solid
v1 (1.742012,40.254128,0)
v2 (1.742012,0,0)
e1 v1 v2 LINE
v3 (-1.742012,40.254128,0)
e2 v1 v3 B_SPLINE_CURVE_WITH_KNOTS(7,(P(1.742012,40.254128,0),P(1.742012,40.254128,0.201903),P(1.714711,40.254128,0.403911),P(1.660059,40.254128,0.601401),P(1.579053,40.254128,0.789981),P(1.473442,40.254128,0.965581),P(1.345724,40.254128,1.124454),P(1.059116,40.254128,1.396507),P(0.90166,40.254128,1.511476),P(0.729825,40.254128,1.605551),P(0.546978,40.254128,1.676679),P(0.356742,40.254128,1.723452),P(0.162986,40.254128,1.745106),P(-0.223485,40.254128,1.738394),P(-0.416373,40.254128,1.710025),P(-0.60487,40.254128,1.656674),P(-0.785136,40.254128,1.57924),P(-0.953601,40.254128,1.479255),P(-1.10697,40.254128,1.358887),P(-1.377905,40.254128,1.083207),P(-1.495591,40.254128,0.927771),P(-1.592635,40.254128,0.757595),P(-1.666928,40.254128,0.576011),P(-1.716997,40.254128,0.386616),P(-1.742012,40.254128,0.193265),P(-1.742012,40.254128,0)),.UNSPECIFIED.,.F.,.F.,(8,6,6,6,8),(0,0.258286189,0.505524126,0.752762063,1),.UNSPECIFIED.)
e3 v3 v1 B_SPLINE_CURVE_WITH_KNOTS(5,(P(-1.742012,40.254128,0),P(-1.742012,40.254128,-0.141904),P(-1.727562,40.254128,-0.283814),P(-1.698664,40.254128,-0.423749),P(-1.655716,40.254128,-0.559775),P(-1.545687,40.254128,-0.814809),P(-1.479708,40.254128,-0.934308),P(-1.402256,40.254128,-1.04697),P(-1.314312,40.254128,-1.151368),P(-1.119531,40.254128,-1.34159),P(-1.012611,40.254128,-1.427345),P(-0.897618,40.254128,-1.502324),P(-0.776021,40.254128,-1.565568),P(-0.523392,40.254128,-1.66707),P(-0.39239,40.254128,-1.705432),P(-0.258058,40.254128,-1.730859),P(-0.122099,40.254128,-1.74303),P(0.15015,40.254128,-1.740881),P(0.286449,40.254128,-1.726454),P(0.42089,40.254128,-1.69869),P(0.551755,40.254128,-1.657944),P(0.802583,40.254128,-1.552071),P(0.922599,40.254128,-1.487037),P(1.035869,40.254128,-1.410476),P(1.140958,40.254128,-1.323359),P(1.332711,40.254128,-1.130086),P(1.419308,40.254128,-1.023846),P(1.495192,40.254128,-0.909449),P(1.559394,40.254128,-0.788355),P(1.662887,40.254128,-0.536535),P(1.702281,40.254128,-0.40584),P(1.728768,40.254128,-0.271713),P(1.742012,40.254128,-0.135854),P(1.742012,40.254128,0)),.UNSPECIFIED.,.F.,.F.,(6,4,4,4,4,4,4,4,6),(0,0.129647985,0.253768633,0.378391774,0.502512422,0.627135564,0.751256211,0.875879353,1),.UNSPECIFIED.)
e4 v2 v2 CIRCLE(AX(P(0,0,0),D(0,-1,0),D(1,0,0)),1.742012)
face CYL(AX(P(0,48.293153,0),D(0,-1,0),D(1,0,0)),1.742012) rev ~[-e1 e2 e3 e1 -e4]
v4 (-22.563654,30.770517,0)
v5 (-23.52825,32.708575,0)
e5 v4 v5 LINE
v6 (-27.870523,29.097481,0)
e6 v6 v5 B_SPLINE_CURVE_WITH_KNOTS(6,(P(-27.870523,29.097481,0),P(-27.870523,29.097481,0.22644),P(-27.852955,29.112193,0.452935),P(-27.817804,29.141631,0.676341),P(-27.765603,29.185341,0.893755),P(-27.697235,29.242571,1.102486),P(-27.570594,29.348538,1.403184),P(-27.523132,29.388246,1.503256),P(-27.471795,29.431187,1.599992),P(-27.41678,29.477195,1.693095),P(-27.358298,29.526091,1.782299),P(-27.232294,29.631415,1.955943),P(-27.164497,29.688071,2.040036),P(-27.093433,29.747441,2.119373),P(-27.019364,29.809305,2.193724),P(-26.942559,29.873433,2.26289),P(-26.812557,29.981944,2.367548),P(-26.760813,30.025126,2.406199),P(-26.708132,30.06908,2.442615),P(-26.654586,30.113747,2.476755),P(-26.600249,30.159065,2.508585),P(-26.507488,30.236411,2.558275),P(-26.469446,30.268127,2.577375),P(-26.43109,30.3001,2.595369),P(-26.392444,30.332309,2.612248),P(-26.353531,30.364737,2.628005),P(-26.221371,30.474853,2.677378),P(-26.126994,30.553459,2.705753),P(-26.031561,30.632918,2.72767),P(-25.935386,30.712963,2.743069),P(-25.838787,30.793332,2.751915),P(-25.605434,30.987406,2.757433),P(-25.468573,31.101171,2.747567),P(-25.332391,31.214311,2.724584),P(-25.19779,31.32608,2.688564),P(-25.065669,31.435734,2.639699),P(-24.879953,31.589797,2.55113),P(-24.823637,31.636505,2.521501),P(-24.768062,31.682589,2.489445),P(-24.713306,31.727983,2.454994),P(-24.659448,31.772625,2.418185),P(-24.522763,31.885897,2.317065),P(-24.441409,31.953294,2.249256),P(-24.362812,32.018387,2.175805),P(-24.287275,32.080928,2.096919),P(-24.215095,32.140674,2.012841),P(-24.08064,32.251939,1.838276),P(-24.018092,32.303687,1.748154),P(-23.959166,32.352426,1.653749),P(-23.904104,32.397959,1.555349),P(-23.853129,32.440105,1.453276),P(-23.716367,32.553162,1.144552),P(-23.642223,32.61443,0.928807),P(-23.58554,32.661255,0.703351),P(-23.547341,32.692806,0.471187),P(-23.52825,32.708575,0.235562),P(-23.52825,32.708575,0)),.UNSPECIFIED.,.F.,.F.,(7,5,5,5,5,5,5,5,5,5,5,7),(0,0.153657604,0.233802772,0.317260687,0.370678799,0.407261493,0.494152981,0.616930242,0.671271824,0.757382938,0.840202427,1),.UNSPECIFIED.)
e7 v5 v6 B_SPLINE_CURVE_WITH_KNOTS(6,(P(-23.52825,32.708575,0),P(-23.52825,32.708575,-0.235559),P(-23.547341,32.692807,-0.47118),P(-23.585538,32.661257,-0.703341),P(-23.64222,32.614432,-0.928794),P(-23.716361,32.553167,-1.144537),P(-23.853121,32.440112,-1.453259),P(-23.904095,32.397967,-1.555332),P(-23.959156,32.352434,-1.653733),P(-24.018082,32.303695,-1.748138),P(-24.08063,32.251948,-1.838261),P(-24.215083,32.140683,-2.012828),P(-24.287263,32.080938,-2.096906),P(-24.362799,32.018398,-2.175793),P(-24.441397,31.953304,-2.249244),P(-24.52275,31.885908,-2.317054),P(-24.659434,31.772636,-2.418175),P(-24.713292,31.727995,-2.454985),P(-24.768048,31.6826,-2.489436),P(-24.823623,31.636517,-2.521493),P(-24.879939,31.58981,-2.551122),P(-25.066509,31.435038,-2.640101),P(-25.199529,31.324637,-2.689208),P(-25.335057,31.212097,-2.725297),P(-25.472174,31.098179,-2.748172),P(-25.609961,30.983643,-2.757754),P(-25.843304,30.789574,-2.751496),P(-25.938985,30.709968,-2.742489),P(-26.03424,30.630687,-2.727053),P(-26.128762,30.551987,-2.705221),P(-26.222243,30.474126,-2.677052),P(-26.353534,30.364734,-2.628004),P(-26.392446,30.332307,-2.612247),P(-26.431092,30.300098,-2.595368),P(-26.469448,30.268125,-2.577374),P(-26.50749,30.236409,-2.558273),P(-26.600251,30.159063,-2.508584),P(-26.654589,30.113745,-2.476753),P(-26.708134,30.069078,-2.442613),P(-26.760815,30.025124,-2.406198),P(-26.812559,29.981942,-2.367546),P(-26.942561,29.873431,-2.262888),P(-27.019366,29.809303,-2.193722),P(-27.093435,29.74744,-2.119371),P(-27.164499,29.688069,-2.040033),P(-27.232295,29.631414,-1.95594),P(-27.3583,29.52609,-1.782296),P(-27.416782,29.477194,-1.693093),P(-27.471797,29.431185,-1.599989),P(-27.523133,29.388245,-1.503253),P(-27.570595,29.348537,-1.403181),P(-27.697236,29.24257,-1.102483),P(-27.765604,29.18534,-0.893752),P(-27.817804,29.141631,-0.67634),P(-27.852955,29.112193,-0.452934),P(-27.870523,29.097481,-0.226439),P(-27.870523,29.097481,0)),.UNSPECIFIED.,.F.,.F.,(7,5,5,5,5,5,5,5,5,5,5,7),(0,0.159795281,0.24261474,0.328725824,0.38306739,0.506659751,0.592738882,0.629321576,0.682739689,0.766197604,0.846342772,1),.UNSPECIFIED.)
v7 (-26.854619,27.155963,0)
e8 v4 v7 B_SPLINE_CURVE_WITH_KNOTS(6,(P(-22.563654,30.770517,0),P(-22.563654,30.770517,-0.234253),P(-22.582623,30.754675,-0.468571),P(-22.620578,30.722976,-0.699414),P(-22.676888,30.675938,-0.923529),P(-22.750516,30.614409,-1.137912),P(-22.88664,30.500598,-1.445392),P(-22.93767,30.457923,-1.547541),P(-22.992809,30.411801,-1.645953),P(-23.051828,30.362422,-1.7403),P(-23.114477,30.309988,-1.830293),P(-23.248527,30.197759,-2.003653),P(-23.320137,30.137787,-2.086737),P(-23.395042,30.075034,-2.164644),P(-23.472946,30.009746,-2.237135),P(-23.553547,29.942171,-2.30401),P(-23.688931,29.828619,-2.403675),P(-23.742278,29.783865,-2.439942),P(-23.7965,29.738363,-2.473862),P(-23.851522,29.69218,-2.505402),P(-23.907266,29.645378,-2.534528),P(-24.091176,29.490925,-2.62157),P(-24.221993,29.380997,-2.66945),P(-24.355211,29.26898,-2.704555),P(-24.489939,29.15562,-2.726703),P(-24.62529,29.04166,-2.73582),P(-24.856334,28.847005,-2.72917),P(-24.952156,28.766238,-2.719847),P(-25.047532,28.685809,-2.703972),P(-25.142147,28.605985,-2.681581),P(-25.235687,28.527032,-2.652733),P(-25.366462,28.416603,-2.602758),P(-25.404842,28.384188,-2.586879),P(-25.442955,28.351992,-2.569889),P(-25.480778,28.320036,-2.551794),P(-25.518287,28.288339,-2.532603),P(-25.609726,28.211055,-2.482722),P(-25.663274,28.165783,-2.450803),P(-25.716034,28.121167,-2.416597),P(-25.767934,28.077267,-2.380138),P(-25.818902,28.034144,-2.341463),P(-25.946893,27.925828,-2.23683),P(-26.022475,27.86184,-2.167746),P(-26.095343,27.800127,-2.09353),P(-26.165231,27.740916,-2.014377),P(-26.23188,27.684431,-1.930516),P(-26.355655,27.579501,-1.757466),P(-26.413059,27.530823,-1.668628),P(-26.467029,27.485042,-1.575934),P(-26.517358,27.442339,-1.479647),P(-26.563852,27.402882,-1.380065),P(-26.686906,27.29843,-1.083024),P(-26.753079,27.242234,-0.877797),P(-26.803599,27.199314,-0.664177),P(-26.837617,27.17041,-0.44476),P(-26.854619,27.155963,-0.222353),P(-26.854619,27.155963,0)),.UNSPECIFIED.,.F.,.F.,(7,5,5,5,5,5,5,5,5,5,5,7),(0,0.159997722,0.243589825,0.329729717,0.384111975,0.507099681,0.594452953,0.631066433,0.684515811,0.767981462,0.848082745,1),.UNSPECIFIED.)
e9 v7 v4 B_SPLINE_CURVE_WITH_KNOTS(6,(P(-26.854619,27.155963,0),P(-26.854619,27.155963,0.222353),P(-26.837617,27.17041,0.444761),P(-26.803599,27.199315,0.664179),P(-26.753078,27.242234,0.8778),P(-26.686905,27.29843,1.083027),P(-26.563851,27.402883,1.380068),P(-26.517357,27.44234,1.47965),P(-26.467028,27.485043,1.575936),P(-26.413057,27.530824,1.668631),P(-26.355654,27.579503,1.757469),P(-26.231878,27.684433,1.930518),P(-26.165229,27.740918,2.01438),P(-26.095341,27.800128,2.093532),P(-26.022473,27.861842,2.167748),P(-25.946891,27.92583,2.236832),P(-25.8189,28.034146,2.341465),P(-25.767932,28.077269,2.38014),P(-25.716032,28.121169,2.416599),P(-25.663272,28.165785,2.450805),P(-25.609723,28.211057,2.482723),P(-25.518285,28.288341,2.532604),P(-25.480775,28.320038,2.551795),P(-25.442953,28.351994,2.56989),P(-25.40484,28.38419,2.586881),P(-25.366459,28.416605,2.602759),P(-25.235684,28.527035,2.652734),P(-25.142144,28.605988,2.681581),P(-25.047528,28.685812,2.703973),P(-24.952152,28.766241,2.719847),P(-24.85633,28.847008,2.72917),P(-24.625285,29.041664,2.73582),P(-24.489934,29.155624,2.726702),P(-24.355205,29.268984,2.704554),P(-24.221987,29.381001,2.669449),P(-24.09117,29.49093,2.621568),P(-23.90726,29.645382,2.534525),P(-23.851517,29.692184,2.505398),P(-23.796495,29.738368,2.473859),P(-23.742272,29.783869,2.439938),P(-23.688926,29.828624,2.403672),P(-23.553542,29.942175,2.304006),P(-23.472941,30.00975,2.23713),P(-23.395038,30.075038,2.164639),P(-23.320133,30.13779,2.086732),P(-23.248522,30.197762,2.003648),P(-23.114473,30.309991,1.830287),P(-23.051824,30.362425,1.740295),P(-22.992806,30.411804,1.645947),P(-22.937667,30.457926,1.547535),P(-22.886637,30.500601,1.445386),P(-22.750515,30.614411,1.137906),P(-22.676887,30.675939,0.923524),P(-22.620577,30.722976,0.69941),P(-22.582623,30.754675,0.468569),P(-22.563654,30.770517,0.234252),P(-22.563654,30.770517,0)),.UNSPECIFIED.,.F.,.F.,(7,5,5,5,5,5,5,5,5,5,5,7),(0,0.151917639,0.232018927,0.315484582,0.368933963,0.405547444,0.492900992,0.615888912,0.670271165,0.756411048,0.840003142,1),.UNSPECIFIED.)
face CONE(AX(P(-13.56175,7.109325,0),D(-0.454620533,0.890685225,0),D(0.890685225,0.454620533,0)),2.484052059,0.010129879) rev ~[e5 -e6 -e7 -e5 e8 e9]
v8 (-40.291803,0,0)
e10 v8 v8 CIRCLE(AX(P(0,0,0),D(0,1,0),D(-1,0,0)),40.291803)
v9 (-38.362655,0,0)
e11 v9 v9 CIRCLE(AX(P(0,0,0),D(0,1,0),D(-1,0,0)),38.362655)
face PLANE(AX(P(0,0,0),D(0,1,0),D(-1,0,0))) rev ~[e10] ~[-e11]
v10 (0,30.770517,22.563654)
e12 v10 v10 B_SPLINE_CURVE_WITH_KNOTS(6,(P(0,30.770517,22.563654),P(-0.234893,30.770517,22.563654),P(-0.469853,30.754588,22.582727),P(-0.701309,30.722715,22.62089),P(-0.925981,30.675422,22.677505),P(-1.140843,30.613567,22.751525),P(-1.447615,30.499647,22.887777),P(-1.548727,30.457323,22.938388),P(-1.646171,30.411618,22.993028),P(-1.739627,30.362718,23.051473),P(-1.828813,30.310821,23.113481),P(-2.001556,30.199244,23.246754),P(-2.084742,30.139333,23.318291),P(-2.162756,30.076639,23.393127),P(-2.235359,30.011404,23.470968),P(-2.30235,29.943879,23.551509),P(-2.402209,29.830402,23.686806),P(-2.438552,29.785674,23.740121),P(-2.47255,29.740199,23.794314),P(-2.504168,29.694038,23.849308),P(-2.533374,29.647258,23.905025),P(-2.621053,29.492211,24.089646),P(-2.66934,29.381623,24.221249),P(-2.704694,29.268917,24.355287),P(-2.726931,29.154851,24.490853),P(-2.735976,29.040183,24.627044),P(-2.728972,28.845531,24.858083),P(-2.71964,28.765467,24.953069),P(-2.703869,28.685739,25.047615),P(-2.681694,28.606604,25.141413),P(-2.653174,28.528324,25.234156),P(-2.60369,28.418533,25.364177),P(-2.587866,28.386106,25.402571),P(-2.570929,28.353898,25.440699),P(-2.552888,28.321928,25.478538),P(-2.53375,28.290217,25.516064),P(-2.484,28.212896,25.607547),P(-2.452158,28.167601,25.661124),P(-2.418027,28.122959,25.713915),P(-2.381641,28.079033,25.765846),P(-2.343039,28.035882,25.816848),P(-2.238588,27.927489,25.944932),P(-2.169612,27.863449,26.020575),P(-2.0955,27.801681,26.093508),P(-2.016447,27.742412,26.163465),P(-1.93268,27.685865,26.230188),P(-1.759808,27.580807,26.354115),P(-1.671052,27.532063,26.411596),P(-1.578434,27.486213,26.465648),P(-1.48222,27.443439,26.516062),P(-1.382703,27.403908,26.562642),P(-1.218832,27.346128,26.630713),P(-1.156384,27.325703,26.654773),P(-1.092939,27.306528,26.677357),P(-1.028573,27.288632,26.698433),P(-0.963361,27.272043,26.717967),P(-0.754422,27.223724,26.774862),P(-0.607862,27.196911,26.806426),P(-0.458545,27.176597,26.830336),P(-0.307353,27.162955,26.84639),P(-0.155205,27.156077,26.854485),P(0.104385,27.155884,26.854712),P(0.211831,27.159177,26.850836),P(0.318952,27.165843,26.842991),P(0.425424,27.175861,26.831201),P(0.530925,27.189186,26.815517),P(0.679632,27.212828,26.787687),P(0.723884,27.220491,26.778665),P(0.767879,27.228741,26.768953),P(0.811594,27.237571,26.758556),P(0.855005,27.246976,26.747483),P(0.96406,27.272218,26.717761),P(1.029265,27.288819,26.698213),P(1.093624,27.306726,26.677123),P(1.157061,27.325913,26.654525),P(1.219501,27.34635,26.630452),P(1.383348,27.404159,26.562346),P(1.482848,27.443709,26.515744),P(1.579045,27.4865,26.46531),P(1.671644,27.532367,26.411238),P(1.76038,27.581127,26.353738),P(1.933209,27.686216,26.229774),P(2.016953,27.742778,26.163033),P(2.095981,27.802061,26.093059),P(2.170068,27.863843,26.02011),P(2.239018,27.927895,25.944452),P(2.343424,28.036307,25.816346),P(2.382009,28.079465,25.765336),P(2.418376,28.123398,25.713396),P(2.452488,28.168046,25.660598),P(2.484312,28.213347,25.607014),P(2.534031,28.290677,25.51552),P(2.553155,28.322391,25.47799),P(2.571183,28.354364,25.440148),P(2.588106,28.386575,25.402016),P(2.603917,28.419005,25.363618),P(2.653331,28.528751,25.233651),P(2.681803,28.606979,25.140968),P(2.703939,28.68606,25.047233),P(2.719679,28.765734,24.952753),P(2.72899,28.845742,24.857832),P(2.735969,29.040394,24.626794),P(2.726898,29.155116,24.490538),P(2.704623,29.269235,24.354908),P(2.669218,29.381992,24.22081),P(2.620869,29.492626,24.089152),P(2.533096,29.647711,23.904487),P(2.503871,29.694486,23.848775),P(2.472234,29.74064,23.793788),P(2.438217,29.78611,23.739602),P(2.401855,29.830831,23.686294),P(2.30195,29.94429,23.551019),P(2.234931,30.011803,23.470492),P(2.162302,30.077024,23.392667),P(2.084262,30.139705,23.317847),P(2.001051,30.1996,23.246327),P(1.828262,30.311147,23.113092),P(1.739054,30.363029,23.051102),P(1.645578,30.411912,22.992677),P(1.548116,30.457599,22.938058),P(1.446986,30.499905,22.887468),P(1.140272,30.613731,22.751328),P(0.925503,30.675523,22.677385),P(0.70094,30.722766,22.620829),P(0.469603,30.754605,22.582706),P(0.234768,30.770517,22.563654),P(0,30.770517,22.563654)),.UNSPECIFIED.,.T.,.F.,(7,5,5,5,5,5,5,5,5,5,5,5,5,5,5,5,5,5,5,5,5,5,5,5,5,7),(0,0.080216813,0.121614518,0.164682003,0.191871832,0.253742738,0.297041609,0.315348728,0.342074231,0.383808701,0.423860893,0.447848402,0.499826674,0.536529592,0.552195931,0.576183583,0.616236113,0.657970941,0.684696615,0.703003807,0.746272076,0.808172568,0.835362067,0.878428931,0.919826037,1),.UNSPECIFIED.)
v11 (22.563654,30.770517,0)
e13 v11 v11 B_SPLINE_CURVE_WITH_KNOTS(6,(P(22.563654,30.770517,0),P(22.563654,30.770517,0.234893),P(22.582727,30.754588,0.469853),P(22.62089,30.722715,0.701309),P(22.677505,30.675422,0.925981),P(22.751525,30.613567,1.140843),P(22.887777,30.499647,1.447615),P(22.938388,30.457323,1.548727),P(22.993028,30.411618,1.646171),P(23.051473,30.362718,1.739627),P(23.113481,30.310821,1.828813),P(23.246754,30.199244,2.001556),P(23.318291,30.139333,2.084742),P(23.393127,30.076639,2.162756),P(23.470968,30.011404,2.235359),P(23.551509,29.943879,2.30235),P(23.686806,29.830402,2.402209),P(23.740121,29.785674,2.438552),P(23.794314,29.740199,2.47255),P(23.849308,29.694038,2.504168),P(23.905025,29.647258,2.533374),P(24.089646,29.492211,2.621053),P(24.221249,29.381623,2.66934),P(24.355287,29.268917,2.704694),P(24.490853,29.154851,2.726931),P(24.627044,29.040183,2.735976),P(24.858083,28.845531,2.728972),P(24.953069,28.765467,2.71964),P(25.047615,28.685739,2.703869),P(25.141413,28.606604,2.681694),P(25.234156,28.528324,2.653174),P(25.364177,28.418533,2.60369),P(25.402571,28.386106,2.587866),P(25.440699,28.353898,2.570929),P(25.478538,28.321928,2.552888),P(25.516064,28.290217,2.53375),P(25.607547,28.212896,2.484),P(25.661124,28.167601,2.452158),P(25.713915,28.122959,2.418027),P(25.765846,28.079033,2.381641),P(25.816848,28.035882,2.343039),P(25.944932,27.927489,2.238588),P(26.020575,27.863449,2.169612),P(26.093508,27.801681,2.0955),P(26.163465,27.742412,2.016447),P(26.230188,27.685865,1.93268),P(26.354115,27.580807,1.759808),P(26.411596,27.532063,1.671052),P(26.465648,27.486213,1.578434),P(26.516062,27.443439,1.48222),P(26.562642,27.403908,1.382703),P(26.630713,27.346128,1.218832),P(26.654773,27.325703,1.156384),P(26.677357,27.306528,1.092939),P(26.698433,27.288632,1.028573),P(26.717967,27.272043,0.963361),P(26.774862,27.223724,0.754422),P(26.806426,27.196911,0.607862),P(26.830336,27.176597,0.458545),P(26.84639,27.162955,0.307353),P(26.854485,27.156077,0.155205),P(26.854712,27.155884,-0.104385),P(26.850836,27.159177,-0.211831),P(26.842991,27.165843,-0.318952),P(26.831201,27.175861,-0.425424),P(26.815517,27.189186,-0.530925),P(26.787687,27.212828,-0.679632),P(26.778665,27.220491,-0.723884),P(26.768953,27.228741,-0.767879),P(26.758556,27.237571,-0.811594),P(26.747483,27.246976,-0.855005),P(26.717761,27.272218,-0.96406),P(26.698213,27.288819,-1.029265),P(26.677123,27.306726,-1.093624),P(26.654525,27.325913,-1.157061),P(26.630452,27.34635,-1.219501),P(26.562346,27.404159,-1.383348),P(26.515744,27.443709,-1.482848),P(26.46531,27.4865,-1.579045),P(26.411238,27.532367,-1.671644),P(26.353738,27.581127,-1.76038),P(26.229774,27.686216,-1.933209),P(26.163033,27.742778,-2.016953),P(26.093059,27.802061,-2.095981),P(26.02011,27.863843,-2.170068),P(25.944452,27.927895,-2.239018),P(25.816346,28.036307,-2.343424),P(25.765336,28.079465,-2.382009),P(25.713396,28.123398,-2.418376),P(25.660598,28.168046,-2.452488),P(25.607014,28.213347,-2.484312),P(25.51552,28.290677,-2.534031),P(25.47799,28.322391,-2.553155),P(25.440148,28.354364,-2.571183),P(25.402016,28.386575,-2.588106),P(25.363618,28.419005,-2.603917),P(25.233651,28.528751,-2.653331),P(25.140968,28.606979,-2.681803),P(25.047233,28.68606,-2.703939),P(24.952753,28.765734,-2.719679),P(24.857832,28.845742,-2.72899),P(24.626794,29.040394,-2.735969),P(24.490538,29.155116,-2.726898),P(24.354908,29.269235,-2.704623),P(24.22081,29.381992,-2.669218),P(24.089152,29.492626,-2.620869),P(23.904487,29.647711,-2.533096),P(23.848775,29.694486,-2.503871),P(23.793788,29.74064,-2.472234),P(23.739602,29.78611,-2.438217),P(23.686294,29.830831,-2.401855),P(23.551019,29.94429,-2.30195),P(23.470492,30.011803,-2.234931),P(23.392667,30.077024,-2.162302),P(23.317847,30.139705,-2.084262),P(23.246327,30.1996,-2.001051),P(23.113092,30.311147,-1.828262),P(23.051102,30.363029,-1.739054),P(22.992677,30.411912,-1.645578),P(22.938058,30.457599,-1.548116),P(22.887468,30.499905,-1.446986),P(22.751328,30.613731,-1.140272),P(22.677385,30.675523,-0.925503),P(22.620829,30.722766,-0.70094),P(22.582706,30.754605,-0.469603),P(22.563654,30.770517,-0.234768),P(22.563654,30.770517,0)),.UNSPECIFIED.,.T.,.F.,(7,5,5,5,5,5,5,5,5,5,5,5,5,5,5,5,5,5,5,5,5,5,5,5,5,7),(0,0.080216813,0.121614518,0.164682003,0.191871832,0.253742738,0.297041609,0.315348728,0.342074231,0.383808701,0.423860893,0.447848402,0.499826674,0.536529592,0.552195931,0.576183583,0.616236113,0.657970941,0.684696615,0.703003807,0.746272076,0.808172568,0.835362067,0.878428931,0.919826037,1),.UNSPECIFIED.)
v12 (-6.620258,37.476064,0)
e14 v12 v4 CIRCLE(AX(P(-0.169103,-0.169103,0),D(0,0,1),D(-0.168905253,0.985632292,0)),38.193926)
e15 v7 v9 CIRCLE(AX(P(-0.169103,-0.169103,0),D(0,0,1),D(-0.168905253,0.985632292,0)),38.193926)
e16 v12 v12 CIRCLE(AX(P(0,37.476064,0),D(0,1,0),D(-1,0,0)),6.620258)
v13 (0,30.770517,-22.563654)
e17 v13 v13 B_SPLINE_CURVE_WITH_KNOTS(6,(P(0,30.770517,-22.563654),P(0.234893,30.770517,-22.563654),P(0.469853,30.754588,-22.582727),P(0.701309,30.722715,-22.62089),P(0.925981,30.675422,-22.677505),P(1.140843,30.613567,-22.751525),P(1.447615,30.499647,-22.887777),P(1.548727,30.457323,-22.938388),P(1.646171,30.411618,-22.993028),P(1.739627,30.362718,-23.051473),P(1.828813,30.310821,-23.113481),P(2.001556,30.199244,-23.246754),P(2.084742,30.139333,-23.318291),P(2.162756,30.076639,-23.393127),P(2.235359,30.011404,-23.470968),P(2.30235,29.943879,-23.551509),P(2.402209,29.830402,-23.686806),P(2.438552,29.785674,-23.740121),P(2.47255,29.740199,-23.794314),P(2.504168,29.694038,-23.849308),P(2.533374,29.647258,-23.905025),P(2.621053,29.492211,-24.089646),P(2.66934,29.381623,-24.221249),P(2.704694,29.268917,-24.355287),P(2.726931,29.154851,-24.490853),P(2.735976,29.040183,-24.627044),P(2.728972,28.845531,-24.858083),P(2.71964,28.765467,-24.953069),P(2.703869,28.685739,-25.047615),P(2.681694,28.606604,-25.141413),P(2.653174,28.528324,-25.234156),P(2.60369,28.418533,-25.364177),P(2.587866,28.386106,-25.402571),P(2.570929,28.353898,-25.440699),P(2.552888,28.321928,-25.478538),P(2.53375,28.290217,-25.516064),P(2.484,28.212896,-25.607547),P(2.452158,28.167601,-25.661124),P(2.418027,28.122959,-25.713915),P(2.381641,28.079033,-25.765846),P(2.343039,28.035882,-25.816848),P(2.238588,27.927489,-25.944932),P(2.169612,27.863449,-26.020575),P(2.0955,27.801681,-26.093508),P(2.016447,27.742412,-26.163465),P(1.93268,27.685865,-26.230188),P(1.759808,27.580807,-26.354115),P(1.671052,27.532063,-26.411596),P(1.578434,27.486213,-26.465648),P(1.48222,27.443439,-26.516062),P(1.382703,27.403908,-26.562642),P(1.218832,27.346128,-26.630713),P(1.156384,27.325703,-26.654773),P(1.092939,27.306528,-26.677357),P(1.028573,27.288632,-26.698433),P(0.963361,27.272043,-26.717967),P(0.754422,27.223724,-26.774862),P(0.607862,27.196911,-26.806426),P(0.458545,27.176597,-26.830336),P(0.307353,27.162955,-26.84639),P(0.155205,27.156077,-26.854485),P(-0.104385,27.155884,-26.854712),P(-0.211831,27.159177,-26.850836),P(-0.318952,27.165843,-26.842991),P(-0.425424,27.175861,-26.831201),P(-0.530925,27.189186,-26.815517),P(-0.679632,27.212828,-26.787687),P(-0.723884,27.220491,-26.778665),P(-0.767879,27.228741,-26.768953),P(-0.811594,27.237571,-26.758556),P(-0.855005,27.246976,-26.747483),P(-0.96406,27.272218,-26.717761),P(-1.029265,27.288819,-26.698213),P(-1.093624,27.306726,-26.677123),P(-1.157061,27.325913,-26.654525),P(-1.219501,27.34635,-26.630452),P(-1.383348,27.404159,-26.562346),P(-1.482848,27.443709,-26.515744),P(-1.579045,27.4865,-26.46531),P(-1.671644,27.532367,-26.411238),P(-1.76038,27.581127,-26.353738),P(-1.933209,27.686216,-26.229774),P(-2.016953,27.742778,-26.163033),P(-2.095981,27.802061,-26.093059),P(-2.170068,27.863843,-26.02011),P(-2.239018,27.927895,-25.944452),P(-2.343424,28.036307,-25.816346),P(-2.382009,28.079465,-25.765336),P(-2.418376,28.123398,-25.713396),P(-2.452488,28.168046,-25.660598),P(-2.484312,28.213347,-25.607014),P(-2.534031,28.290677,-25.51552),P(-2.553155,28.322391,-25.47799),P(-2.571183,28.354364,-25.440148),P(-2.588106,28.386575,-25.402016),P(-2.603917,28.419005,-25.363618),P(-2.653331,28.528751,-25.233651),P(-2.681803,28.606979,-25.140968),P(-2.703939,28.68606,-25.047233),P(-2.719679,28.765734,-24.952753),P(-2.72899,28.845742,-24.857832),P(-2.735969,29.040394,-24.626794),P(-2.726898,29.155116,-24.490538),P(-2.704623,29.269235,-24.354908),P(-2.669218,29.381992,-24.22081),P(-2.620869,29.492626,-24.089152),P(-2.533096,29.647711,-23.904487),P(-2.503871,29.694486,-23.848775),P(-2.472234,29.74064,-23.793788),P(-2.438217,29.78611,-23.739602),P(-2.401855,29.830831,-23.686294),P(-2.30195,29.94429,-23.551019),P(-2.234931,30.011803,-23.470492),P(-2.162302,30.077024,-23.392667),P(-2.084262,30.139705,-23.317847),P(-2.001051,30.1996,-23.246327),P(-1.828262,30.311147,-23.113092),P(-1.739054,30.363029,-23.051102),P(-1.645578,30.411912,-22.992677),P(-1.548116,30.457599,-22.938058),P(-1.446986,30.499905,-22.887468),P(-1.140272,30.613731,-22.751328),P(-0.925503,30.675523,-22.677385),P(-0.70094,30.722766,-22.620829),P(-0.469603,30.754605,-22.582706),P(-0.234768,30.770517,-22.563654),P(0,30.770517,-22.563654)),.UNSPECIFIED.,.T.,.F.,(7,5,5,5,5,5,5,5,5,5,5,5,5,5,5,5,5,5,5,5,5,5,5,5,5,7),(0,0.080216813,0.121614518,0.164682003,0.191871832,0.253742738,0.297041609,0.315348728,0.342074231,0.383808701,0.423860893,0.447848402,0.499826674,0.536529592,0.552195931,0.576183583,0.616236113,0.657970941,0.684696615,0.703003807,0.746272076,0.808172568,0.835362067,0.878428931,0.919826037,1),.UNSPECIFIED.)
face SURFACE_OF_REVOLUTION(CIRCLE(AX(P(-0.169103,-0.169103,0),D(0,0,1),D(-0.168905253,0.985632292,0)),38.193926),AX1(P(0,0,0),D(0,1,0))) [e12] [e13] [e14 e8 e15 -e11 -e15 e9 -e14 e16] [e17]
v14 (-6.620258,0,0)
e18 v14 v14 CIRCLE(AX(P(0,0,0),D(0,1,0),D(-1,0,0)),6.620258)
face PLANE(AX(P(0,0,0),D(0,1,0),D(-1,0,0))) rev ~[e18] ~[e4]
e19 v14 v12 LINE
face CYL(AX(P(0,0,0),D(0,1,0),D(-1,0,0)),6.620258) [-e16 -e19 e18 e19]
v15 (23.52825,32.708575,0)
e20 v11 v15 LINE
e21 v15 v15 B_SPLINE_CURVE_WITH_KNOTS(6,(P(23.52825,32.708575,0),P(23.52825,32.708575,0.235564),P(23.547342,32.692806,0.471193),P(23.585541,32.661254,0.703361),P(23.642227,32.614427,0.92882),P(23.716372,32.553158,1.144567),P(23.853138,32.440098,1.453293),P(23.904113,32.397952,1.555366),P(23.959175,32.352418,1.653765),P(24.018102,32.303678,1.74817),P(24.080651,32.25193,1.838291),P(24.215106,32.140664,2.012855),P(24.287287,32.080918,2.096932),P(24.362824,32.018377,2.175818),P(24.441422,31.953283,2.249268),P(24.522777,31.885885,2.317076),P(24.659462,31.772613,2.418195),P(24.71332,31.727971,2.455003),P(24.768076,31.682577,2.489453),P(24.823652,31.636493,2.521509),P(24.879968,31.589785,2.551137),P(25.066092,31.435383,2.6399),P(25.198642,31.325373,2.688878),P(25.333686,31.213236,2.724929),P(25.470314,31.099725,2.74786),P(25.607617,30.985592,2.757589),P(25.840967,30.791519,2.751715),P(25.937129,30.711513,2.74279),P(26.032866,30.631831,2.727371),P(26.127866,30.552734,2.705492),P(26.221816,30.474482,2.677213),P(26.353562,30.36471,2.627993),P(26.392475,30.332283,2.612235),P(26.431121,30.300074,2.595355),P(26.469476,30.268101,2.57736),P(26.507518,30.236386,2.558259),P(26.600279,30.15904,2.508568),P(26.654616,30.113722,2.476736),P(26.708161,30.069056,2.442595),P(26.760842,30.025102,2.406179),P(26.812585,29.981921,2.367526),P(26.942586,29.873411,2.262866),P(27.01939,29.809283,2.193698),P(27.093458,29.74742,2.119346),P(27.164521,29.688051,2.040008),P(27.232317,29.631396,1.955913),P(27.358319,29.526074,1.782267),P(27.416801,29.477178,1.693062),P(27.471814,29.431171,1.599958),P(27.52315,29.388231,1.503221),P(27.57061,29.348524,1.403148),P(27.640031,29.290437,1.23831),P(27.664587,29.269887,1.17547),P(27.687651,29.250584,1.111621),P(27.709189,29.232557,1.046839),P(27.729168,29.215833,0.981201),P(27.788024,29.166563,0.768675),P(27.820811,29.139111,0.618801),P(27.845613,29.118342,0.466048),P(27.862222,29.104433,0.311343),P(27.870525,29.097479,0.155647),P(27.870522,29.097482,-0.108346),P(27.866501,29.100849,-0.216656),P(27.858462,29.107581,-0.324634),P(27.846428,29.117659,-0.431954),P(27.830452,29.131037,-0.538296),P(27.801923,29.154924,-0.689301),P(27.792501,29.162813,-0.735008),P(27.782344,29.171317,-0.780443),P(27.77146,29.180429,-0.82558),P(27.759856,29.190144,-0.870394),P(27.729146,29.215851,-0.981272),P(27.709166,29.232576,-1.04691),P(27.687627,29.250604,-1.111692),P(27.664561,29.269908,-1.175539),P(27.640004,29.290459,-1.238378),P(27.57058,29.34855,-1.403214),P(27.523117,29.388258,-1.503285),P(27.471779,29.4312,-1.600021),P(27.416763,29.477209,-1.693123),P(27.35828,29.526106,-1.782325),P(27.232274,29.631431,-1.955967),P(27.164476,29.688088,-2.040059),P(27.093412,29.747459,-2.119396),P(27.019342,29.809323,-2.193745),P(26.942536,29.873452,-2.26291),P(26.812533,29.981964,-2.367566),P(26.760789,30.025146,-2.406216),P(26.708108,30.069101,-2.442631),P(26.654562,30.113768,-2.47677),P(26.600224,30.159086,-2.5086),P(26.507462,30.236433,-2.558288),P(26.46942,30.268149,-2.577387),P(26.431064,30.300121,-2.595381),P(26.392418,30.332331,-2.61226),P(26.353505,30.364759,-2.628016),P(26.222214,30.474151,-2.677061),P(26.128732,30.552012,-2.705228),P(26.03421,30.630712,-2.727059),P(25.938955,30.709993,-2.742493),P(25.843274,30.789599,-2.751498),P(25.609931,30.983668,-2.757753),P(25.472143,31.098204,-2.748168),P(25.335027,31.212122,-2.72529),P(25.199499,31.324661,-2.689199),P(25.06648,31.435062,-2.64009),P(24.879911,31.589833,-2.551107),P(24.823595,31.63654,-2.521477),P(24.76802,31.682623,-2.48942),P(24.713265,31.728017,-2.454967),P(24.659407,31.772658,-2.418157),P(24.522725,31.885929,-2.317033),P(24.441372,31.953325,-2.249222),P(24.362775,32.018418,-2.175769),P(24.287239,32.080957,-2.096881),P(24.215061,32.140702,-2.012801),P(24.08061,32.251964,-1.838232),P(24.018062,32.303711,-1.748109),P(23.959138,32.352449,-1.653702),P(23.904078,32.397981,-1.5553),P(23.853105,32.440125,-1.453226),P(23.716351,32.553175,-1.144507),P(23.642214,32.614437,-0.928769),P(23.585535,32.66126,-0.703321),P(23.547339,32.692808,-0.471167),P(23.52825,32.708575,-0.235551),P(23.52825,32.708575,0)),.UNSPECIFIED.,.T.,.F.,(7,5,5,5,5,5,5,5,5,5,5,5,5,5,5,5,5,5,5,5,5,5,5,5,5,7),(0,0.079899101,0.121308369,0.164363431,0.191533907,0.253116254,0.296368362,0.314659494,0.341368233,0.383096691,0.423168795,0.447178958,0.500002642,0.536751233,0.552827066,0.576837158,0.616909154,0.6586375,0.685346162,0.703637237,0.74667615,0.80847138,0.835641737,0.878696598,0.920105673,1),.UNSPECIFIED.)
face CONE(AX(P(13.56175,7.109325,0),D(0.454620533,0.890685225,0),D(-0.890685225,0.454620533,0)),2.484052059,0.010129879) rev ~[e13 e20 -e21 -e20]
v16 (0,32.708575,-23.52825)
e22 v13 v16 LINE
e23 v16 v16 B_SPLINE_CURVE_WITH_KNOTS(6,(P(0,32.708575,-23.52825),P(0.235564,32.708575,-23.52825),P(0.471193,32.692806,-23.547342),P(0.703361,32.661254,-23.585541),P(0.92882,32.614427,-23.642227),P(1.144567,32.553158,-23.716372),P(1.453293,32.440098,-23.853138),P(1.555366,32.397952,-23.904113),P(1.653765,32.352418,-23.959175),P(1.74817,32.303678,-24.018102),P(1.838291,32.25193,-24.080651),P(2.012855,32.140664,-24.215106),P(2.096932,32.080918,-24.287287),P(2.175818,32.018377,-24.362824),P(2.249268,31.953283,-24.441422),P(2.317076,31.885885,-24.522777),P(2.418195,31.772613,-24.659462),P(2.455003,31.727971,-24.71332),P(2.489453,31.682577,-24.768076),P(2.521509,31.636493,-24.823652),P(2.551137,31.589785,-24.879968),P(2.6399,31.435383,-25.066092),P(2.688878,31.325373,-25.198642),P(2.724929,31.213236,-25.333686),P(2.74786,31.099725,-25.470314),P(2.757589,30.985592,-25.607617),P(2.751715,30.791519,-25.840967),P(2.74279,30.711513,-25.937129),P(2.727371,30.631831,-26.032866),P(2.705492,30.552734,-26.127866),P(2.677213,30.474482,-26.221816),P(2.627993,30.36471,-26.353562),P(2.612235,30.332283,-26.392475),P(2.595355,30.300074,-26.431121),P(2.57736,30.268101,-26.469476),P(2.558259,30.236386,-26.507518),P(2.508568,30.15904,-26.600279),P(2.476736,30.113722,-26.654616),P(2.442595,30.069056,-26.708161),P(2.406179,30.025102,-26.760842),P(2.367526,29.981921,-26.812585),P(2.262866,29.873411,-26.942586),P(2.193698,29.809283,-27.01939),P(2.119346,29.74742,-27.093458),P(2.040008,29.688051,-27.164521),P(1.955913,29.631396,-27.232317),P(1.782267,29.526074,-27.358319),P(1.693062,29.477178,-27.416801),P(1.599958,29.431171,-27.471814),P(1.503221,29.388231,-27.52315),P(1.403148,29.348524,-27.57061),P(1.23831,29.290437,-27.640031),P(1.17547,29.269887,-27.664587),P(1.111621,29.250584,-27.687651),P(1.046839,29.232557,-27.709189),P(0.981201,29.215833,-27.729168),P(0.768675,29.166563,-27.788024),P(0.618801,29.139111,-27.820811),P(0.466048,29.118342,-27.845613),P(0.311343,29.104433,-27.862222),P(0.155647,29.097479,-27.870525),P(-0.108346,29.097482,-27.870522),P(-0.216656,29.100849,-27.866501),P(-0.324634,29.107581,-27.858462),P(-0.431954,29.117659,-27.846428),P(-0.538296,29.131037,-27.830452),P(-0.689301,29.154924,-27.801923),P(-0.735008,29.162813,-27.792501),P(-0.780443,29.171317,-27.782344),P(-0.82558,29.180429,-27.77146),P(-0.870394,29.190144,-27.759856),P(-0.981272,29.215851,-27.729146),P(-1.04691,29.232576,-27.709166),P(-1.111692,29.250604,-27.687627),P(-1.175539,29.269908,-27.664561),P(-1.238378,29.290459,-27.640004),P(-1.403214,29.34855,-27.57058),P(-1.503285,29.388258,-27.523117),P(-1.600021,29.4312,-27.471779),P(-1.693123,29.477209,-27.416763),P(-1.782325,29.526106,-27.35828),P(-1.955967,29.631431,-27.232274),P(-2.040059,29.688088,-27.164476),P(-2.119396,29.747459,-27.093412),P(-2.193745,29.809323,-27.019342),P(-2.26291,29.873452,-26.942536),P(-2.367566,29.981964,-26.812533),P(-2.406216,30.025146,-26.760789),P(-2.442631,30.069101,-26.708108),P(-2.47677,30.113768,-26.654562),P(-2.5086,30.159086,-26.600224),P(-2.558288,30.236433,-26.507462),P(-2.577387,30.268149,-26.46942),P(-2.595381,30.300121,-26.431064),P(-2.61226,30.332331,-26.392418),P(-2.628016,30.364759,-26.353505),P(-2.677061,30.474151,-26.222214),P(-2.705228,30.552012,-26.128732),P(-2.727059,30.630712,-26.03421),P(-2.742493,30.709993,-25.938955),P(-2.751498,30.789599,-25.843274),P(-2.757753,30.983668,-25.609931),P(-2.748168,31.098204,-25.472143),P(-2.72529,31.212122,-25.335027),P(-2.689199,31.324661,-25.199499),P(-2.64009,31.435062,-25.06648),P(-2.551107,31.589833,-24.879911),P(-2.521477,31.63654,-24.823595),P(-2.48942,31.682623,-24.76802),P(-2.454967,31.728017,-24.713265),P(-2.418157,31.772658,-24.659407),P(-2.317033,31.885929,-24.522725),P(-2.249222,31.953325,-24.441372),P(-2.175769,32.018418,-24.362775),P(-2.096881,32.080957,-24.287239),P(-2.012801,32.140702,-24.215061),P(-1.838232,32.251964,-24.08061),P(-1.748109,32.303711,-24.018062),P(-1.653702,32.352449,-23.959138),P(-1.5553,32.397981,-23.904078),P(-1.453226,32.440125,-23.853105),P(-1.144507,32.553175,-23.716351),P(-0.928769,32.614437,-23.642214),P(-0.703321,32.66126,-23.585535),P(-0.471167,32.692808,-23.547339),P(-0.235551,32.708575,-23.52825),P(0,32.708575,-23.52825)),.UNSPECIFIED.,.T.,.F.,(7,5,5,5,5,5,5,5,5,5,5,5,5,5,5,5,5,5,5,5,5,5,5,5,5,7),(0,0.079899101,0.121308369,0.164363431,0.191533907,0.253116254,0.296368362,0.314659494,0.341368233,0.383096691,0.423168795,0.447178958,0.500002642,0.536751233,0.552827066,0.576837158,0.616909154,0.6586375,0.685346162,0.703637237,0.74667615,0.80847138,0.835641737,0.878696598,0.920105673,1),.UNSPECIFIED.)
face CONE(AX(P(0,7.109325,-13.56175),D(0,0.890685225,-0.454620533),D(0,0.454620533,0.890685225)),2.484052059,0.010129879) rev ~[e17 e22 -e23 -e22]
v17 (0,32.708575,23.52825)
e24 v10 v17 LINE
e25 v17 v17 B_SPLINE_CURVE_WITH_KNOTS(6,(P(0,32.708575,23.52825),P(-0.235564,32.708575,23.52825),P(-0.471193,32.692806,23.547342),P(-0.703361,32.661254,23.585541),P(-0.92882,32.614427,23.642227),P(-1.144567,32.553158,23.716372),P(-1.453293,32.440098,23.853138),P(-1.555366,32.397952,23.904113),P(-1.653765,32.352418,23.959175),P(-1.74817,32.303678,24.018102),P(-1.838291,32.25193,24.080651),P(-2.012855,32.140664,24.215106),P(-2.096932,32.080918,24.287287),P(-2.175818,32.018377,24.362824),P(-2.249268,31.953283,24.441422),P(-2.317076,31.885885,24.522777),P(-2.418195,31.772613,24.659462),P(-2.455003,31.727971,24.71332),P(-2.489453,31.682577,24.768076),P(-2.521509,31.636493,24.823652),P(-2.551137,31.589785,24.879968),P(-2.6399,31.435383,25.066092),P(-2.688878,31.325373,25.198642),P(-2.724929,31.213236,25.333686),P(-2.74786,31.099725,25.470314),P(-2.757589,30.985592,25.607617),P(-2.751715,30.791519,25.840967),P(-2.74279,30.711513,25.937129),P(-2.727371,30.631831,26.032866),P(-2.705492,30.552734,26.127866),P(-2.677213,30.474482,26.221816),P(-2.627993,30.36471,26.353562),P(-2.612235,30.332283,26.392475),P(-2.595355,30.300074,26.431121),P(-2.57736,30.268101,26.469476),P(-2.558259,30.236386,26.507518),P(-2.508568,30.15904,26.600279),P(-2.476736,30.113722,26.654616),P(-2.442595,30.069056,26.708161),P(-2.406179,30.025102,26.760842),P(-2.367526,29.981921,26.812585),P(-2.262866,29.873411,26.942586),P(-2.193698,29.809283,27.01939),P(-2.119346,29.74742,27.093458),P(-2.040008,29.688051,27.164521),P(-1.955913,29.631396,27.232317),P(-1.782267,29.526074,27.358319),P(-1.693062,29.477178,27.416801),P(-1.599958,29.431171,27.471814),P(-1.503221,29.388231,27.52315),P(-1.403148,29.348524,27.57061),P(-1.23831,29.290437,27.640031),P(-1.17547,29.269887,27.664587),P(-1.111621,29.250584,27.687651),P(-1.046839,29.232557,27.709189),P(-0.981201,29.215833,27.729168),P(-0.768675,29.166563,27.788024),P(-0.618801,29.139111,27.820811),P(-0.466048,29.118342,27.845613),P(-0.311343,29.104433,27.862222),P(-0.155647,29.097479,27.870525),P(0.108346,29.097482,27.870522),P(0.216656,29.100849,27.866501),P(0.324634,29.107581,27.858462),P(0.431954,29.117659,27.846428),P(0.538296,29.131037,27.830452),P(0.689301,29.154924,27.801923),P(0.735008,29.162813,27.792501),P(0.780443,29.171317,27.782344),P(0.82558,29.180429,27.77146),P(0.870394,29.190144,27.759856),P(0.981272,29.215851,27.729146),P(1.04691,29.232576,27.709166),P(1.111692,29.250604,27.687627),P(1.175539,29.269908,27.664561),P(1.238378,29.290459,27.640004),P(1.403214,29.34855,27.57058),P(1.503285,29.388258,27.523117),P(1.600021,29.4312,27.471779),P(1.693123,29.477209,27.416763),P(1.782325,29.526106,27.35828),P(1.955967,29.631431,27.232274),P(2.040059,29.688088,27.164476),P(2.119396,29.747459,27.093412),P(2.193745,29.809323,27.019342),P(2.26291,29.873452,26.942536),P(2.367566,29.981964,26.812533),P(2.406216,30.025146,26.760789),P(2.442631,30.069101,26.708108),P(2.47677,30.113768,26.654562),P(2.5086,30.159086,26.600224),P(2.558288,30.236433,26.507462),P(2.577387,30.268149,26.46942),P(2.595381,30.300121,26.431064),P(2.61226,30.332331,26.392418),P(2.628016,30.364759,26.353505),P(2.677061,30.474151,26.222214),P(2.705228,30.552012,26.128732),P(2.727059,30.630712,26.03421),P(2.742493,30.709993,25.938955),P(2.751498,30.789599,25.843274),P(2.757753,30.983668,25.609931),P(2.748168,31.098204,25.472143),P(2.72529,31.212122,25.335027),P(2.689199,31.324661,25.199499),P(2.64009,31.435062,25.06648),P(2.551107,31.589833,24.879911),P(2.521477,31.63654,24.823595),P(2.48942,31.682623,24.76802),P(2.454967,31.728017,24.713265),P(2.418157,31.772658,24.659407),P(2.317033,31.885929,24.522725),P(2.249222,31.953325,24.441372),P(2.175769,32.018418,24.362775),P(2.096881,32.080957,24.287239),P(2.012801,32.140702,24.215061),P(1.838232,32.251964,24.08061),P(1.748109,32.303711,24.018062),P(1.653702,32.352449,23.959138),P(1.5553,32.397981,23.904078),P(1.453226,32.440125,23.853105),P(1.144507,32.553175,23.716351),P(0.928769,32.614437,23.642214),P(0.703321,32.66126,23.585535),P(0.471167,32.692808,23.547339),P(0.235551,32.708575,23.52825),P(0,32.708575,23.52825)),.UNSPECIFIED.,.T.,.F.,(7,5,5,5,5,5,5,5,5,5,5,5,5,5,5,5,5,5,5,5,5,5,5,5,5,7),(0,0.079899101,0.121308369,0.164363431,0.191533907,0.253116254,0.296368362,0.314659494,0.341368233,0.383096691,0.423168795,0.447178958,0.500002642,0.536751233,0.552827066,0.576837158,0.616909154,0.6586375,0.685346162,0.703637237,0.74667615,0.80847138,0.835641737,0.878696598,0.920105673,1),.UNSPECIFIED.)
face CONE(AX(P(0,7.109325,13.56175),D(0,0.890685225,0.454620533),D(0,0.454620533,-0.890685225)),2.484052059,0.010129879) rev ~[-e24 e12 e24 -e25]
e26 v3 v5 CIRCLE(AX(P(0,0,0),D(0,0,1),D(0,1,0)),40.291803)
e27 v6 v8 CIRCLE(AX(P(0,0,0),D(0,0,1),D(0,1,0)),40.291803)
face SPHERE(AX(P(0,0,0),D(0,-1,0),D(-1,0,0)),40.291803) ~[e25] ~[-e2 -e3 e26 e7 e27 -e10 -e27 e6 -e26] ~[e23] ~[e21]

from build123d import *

# Parameters (mm, degrees)
CIRPATTERN1_COUNT = 4


with BuildPart() as part:
    # Sketch1 → Revolve2 (revolve)
    with BuildSketch(Plane.XY):
        with BuildLine():
            Line((0, 0), (0, 40.291803418))
            ThreePointArc((0, 40.291803418), (-28.490607423, 28.490607423), (-40.291803418, 0))
            Line((-40.291803418, 0), (0, 0))
        make_face()
    revolve(axis=Axis((0, 0, 0), (0, 1, 0)))

    # Sketch3 → Cut-Revolve1 (revolve, cut)
    with BuildSketch(Plane.XY):
        Polygon((-13.573190225, 7.131738402), (-11.349241682, 8.238626263), (-25.928069212, 37.530267603), (-29.089104454, 37.530267603), align=None)
    cut_revolve1 = revolve(axis=Axis((-13.573190225, 7.131738402, 0), (-0.4546205334501406, 0.8906852252987638, 0)), mode=Mode.SUBTRACT)

    # CirPattern1: Cut-Revolve1 ×4 about axis
    cirpattern1_axis = Axis((0, 42.306393589, 0), (0, -1, 0))
    for i in range(1, CIRPATTERN1_COUNT):
        add(cut_revolve1.rotate(cirpattern1_axis, i * 360 / CIRPATTERN1_COUNT), mode=Mode.SUBTRACT)

    # Sketch4 → Cut-Revolve2 (revolve, cut)
    with BuildSketch(Plane.XY):
        with BuildLine():
            Line((-38.362655309, 0), (-6.620258084, 0))
            Line((-6.620258084, 0), (-6.620258084, 0.892081856))
            Line((-6.620258084, 0.892081856), (-6.620258084, 3.681873627))
            Line((-6.620258084, 3.681873627), (-6.620258084, 4.5102659))
            Line((-6.620258084, 4.5102659), (-6.620258084, 8.647730458))
            Line((-6.620258084, 8.647730458), (-6.620258084, 37.476063899))
            ThreePointArc((-6.620258084, 37.476063899), (-29.313593387, 24.516412874), (-38.362655309, 0))
        make_face()
    revolve(axis=Axis((0, 0, 0), (0, 1, 0)), mode=Mode.SUBTRACT)

    # Sketch5 → Cut-Revolve3 (revolve, cut)
    with BuildSketch(Plane.XY):
        Polygon((0, 0), (0, 48.293152638), (1.742012272, 48.293152638), (1.742012272, -4.609009531), (0, -4.609009531), align=None)
    revolve(axis=Axis((0, 42.306393589, 0), (0, -1, 0)), mode=Mode.SUBTRACT)


solid = part.part
